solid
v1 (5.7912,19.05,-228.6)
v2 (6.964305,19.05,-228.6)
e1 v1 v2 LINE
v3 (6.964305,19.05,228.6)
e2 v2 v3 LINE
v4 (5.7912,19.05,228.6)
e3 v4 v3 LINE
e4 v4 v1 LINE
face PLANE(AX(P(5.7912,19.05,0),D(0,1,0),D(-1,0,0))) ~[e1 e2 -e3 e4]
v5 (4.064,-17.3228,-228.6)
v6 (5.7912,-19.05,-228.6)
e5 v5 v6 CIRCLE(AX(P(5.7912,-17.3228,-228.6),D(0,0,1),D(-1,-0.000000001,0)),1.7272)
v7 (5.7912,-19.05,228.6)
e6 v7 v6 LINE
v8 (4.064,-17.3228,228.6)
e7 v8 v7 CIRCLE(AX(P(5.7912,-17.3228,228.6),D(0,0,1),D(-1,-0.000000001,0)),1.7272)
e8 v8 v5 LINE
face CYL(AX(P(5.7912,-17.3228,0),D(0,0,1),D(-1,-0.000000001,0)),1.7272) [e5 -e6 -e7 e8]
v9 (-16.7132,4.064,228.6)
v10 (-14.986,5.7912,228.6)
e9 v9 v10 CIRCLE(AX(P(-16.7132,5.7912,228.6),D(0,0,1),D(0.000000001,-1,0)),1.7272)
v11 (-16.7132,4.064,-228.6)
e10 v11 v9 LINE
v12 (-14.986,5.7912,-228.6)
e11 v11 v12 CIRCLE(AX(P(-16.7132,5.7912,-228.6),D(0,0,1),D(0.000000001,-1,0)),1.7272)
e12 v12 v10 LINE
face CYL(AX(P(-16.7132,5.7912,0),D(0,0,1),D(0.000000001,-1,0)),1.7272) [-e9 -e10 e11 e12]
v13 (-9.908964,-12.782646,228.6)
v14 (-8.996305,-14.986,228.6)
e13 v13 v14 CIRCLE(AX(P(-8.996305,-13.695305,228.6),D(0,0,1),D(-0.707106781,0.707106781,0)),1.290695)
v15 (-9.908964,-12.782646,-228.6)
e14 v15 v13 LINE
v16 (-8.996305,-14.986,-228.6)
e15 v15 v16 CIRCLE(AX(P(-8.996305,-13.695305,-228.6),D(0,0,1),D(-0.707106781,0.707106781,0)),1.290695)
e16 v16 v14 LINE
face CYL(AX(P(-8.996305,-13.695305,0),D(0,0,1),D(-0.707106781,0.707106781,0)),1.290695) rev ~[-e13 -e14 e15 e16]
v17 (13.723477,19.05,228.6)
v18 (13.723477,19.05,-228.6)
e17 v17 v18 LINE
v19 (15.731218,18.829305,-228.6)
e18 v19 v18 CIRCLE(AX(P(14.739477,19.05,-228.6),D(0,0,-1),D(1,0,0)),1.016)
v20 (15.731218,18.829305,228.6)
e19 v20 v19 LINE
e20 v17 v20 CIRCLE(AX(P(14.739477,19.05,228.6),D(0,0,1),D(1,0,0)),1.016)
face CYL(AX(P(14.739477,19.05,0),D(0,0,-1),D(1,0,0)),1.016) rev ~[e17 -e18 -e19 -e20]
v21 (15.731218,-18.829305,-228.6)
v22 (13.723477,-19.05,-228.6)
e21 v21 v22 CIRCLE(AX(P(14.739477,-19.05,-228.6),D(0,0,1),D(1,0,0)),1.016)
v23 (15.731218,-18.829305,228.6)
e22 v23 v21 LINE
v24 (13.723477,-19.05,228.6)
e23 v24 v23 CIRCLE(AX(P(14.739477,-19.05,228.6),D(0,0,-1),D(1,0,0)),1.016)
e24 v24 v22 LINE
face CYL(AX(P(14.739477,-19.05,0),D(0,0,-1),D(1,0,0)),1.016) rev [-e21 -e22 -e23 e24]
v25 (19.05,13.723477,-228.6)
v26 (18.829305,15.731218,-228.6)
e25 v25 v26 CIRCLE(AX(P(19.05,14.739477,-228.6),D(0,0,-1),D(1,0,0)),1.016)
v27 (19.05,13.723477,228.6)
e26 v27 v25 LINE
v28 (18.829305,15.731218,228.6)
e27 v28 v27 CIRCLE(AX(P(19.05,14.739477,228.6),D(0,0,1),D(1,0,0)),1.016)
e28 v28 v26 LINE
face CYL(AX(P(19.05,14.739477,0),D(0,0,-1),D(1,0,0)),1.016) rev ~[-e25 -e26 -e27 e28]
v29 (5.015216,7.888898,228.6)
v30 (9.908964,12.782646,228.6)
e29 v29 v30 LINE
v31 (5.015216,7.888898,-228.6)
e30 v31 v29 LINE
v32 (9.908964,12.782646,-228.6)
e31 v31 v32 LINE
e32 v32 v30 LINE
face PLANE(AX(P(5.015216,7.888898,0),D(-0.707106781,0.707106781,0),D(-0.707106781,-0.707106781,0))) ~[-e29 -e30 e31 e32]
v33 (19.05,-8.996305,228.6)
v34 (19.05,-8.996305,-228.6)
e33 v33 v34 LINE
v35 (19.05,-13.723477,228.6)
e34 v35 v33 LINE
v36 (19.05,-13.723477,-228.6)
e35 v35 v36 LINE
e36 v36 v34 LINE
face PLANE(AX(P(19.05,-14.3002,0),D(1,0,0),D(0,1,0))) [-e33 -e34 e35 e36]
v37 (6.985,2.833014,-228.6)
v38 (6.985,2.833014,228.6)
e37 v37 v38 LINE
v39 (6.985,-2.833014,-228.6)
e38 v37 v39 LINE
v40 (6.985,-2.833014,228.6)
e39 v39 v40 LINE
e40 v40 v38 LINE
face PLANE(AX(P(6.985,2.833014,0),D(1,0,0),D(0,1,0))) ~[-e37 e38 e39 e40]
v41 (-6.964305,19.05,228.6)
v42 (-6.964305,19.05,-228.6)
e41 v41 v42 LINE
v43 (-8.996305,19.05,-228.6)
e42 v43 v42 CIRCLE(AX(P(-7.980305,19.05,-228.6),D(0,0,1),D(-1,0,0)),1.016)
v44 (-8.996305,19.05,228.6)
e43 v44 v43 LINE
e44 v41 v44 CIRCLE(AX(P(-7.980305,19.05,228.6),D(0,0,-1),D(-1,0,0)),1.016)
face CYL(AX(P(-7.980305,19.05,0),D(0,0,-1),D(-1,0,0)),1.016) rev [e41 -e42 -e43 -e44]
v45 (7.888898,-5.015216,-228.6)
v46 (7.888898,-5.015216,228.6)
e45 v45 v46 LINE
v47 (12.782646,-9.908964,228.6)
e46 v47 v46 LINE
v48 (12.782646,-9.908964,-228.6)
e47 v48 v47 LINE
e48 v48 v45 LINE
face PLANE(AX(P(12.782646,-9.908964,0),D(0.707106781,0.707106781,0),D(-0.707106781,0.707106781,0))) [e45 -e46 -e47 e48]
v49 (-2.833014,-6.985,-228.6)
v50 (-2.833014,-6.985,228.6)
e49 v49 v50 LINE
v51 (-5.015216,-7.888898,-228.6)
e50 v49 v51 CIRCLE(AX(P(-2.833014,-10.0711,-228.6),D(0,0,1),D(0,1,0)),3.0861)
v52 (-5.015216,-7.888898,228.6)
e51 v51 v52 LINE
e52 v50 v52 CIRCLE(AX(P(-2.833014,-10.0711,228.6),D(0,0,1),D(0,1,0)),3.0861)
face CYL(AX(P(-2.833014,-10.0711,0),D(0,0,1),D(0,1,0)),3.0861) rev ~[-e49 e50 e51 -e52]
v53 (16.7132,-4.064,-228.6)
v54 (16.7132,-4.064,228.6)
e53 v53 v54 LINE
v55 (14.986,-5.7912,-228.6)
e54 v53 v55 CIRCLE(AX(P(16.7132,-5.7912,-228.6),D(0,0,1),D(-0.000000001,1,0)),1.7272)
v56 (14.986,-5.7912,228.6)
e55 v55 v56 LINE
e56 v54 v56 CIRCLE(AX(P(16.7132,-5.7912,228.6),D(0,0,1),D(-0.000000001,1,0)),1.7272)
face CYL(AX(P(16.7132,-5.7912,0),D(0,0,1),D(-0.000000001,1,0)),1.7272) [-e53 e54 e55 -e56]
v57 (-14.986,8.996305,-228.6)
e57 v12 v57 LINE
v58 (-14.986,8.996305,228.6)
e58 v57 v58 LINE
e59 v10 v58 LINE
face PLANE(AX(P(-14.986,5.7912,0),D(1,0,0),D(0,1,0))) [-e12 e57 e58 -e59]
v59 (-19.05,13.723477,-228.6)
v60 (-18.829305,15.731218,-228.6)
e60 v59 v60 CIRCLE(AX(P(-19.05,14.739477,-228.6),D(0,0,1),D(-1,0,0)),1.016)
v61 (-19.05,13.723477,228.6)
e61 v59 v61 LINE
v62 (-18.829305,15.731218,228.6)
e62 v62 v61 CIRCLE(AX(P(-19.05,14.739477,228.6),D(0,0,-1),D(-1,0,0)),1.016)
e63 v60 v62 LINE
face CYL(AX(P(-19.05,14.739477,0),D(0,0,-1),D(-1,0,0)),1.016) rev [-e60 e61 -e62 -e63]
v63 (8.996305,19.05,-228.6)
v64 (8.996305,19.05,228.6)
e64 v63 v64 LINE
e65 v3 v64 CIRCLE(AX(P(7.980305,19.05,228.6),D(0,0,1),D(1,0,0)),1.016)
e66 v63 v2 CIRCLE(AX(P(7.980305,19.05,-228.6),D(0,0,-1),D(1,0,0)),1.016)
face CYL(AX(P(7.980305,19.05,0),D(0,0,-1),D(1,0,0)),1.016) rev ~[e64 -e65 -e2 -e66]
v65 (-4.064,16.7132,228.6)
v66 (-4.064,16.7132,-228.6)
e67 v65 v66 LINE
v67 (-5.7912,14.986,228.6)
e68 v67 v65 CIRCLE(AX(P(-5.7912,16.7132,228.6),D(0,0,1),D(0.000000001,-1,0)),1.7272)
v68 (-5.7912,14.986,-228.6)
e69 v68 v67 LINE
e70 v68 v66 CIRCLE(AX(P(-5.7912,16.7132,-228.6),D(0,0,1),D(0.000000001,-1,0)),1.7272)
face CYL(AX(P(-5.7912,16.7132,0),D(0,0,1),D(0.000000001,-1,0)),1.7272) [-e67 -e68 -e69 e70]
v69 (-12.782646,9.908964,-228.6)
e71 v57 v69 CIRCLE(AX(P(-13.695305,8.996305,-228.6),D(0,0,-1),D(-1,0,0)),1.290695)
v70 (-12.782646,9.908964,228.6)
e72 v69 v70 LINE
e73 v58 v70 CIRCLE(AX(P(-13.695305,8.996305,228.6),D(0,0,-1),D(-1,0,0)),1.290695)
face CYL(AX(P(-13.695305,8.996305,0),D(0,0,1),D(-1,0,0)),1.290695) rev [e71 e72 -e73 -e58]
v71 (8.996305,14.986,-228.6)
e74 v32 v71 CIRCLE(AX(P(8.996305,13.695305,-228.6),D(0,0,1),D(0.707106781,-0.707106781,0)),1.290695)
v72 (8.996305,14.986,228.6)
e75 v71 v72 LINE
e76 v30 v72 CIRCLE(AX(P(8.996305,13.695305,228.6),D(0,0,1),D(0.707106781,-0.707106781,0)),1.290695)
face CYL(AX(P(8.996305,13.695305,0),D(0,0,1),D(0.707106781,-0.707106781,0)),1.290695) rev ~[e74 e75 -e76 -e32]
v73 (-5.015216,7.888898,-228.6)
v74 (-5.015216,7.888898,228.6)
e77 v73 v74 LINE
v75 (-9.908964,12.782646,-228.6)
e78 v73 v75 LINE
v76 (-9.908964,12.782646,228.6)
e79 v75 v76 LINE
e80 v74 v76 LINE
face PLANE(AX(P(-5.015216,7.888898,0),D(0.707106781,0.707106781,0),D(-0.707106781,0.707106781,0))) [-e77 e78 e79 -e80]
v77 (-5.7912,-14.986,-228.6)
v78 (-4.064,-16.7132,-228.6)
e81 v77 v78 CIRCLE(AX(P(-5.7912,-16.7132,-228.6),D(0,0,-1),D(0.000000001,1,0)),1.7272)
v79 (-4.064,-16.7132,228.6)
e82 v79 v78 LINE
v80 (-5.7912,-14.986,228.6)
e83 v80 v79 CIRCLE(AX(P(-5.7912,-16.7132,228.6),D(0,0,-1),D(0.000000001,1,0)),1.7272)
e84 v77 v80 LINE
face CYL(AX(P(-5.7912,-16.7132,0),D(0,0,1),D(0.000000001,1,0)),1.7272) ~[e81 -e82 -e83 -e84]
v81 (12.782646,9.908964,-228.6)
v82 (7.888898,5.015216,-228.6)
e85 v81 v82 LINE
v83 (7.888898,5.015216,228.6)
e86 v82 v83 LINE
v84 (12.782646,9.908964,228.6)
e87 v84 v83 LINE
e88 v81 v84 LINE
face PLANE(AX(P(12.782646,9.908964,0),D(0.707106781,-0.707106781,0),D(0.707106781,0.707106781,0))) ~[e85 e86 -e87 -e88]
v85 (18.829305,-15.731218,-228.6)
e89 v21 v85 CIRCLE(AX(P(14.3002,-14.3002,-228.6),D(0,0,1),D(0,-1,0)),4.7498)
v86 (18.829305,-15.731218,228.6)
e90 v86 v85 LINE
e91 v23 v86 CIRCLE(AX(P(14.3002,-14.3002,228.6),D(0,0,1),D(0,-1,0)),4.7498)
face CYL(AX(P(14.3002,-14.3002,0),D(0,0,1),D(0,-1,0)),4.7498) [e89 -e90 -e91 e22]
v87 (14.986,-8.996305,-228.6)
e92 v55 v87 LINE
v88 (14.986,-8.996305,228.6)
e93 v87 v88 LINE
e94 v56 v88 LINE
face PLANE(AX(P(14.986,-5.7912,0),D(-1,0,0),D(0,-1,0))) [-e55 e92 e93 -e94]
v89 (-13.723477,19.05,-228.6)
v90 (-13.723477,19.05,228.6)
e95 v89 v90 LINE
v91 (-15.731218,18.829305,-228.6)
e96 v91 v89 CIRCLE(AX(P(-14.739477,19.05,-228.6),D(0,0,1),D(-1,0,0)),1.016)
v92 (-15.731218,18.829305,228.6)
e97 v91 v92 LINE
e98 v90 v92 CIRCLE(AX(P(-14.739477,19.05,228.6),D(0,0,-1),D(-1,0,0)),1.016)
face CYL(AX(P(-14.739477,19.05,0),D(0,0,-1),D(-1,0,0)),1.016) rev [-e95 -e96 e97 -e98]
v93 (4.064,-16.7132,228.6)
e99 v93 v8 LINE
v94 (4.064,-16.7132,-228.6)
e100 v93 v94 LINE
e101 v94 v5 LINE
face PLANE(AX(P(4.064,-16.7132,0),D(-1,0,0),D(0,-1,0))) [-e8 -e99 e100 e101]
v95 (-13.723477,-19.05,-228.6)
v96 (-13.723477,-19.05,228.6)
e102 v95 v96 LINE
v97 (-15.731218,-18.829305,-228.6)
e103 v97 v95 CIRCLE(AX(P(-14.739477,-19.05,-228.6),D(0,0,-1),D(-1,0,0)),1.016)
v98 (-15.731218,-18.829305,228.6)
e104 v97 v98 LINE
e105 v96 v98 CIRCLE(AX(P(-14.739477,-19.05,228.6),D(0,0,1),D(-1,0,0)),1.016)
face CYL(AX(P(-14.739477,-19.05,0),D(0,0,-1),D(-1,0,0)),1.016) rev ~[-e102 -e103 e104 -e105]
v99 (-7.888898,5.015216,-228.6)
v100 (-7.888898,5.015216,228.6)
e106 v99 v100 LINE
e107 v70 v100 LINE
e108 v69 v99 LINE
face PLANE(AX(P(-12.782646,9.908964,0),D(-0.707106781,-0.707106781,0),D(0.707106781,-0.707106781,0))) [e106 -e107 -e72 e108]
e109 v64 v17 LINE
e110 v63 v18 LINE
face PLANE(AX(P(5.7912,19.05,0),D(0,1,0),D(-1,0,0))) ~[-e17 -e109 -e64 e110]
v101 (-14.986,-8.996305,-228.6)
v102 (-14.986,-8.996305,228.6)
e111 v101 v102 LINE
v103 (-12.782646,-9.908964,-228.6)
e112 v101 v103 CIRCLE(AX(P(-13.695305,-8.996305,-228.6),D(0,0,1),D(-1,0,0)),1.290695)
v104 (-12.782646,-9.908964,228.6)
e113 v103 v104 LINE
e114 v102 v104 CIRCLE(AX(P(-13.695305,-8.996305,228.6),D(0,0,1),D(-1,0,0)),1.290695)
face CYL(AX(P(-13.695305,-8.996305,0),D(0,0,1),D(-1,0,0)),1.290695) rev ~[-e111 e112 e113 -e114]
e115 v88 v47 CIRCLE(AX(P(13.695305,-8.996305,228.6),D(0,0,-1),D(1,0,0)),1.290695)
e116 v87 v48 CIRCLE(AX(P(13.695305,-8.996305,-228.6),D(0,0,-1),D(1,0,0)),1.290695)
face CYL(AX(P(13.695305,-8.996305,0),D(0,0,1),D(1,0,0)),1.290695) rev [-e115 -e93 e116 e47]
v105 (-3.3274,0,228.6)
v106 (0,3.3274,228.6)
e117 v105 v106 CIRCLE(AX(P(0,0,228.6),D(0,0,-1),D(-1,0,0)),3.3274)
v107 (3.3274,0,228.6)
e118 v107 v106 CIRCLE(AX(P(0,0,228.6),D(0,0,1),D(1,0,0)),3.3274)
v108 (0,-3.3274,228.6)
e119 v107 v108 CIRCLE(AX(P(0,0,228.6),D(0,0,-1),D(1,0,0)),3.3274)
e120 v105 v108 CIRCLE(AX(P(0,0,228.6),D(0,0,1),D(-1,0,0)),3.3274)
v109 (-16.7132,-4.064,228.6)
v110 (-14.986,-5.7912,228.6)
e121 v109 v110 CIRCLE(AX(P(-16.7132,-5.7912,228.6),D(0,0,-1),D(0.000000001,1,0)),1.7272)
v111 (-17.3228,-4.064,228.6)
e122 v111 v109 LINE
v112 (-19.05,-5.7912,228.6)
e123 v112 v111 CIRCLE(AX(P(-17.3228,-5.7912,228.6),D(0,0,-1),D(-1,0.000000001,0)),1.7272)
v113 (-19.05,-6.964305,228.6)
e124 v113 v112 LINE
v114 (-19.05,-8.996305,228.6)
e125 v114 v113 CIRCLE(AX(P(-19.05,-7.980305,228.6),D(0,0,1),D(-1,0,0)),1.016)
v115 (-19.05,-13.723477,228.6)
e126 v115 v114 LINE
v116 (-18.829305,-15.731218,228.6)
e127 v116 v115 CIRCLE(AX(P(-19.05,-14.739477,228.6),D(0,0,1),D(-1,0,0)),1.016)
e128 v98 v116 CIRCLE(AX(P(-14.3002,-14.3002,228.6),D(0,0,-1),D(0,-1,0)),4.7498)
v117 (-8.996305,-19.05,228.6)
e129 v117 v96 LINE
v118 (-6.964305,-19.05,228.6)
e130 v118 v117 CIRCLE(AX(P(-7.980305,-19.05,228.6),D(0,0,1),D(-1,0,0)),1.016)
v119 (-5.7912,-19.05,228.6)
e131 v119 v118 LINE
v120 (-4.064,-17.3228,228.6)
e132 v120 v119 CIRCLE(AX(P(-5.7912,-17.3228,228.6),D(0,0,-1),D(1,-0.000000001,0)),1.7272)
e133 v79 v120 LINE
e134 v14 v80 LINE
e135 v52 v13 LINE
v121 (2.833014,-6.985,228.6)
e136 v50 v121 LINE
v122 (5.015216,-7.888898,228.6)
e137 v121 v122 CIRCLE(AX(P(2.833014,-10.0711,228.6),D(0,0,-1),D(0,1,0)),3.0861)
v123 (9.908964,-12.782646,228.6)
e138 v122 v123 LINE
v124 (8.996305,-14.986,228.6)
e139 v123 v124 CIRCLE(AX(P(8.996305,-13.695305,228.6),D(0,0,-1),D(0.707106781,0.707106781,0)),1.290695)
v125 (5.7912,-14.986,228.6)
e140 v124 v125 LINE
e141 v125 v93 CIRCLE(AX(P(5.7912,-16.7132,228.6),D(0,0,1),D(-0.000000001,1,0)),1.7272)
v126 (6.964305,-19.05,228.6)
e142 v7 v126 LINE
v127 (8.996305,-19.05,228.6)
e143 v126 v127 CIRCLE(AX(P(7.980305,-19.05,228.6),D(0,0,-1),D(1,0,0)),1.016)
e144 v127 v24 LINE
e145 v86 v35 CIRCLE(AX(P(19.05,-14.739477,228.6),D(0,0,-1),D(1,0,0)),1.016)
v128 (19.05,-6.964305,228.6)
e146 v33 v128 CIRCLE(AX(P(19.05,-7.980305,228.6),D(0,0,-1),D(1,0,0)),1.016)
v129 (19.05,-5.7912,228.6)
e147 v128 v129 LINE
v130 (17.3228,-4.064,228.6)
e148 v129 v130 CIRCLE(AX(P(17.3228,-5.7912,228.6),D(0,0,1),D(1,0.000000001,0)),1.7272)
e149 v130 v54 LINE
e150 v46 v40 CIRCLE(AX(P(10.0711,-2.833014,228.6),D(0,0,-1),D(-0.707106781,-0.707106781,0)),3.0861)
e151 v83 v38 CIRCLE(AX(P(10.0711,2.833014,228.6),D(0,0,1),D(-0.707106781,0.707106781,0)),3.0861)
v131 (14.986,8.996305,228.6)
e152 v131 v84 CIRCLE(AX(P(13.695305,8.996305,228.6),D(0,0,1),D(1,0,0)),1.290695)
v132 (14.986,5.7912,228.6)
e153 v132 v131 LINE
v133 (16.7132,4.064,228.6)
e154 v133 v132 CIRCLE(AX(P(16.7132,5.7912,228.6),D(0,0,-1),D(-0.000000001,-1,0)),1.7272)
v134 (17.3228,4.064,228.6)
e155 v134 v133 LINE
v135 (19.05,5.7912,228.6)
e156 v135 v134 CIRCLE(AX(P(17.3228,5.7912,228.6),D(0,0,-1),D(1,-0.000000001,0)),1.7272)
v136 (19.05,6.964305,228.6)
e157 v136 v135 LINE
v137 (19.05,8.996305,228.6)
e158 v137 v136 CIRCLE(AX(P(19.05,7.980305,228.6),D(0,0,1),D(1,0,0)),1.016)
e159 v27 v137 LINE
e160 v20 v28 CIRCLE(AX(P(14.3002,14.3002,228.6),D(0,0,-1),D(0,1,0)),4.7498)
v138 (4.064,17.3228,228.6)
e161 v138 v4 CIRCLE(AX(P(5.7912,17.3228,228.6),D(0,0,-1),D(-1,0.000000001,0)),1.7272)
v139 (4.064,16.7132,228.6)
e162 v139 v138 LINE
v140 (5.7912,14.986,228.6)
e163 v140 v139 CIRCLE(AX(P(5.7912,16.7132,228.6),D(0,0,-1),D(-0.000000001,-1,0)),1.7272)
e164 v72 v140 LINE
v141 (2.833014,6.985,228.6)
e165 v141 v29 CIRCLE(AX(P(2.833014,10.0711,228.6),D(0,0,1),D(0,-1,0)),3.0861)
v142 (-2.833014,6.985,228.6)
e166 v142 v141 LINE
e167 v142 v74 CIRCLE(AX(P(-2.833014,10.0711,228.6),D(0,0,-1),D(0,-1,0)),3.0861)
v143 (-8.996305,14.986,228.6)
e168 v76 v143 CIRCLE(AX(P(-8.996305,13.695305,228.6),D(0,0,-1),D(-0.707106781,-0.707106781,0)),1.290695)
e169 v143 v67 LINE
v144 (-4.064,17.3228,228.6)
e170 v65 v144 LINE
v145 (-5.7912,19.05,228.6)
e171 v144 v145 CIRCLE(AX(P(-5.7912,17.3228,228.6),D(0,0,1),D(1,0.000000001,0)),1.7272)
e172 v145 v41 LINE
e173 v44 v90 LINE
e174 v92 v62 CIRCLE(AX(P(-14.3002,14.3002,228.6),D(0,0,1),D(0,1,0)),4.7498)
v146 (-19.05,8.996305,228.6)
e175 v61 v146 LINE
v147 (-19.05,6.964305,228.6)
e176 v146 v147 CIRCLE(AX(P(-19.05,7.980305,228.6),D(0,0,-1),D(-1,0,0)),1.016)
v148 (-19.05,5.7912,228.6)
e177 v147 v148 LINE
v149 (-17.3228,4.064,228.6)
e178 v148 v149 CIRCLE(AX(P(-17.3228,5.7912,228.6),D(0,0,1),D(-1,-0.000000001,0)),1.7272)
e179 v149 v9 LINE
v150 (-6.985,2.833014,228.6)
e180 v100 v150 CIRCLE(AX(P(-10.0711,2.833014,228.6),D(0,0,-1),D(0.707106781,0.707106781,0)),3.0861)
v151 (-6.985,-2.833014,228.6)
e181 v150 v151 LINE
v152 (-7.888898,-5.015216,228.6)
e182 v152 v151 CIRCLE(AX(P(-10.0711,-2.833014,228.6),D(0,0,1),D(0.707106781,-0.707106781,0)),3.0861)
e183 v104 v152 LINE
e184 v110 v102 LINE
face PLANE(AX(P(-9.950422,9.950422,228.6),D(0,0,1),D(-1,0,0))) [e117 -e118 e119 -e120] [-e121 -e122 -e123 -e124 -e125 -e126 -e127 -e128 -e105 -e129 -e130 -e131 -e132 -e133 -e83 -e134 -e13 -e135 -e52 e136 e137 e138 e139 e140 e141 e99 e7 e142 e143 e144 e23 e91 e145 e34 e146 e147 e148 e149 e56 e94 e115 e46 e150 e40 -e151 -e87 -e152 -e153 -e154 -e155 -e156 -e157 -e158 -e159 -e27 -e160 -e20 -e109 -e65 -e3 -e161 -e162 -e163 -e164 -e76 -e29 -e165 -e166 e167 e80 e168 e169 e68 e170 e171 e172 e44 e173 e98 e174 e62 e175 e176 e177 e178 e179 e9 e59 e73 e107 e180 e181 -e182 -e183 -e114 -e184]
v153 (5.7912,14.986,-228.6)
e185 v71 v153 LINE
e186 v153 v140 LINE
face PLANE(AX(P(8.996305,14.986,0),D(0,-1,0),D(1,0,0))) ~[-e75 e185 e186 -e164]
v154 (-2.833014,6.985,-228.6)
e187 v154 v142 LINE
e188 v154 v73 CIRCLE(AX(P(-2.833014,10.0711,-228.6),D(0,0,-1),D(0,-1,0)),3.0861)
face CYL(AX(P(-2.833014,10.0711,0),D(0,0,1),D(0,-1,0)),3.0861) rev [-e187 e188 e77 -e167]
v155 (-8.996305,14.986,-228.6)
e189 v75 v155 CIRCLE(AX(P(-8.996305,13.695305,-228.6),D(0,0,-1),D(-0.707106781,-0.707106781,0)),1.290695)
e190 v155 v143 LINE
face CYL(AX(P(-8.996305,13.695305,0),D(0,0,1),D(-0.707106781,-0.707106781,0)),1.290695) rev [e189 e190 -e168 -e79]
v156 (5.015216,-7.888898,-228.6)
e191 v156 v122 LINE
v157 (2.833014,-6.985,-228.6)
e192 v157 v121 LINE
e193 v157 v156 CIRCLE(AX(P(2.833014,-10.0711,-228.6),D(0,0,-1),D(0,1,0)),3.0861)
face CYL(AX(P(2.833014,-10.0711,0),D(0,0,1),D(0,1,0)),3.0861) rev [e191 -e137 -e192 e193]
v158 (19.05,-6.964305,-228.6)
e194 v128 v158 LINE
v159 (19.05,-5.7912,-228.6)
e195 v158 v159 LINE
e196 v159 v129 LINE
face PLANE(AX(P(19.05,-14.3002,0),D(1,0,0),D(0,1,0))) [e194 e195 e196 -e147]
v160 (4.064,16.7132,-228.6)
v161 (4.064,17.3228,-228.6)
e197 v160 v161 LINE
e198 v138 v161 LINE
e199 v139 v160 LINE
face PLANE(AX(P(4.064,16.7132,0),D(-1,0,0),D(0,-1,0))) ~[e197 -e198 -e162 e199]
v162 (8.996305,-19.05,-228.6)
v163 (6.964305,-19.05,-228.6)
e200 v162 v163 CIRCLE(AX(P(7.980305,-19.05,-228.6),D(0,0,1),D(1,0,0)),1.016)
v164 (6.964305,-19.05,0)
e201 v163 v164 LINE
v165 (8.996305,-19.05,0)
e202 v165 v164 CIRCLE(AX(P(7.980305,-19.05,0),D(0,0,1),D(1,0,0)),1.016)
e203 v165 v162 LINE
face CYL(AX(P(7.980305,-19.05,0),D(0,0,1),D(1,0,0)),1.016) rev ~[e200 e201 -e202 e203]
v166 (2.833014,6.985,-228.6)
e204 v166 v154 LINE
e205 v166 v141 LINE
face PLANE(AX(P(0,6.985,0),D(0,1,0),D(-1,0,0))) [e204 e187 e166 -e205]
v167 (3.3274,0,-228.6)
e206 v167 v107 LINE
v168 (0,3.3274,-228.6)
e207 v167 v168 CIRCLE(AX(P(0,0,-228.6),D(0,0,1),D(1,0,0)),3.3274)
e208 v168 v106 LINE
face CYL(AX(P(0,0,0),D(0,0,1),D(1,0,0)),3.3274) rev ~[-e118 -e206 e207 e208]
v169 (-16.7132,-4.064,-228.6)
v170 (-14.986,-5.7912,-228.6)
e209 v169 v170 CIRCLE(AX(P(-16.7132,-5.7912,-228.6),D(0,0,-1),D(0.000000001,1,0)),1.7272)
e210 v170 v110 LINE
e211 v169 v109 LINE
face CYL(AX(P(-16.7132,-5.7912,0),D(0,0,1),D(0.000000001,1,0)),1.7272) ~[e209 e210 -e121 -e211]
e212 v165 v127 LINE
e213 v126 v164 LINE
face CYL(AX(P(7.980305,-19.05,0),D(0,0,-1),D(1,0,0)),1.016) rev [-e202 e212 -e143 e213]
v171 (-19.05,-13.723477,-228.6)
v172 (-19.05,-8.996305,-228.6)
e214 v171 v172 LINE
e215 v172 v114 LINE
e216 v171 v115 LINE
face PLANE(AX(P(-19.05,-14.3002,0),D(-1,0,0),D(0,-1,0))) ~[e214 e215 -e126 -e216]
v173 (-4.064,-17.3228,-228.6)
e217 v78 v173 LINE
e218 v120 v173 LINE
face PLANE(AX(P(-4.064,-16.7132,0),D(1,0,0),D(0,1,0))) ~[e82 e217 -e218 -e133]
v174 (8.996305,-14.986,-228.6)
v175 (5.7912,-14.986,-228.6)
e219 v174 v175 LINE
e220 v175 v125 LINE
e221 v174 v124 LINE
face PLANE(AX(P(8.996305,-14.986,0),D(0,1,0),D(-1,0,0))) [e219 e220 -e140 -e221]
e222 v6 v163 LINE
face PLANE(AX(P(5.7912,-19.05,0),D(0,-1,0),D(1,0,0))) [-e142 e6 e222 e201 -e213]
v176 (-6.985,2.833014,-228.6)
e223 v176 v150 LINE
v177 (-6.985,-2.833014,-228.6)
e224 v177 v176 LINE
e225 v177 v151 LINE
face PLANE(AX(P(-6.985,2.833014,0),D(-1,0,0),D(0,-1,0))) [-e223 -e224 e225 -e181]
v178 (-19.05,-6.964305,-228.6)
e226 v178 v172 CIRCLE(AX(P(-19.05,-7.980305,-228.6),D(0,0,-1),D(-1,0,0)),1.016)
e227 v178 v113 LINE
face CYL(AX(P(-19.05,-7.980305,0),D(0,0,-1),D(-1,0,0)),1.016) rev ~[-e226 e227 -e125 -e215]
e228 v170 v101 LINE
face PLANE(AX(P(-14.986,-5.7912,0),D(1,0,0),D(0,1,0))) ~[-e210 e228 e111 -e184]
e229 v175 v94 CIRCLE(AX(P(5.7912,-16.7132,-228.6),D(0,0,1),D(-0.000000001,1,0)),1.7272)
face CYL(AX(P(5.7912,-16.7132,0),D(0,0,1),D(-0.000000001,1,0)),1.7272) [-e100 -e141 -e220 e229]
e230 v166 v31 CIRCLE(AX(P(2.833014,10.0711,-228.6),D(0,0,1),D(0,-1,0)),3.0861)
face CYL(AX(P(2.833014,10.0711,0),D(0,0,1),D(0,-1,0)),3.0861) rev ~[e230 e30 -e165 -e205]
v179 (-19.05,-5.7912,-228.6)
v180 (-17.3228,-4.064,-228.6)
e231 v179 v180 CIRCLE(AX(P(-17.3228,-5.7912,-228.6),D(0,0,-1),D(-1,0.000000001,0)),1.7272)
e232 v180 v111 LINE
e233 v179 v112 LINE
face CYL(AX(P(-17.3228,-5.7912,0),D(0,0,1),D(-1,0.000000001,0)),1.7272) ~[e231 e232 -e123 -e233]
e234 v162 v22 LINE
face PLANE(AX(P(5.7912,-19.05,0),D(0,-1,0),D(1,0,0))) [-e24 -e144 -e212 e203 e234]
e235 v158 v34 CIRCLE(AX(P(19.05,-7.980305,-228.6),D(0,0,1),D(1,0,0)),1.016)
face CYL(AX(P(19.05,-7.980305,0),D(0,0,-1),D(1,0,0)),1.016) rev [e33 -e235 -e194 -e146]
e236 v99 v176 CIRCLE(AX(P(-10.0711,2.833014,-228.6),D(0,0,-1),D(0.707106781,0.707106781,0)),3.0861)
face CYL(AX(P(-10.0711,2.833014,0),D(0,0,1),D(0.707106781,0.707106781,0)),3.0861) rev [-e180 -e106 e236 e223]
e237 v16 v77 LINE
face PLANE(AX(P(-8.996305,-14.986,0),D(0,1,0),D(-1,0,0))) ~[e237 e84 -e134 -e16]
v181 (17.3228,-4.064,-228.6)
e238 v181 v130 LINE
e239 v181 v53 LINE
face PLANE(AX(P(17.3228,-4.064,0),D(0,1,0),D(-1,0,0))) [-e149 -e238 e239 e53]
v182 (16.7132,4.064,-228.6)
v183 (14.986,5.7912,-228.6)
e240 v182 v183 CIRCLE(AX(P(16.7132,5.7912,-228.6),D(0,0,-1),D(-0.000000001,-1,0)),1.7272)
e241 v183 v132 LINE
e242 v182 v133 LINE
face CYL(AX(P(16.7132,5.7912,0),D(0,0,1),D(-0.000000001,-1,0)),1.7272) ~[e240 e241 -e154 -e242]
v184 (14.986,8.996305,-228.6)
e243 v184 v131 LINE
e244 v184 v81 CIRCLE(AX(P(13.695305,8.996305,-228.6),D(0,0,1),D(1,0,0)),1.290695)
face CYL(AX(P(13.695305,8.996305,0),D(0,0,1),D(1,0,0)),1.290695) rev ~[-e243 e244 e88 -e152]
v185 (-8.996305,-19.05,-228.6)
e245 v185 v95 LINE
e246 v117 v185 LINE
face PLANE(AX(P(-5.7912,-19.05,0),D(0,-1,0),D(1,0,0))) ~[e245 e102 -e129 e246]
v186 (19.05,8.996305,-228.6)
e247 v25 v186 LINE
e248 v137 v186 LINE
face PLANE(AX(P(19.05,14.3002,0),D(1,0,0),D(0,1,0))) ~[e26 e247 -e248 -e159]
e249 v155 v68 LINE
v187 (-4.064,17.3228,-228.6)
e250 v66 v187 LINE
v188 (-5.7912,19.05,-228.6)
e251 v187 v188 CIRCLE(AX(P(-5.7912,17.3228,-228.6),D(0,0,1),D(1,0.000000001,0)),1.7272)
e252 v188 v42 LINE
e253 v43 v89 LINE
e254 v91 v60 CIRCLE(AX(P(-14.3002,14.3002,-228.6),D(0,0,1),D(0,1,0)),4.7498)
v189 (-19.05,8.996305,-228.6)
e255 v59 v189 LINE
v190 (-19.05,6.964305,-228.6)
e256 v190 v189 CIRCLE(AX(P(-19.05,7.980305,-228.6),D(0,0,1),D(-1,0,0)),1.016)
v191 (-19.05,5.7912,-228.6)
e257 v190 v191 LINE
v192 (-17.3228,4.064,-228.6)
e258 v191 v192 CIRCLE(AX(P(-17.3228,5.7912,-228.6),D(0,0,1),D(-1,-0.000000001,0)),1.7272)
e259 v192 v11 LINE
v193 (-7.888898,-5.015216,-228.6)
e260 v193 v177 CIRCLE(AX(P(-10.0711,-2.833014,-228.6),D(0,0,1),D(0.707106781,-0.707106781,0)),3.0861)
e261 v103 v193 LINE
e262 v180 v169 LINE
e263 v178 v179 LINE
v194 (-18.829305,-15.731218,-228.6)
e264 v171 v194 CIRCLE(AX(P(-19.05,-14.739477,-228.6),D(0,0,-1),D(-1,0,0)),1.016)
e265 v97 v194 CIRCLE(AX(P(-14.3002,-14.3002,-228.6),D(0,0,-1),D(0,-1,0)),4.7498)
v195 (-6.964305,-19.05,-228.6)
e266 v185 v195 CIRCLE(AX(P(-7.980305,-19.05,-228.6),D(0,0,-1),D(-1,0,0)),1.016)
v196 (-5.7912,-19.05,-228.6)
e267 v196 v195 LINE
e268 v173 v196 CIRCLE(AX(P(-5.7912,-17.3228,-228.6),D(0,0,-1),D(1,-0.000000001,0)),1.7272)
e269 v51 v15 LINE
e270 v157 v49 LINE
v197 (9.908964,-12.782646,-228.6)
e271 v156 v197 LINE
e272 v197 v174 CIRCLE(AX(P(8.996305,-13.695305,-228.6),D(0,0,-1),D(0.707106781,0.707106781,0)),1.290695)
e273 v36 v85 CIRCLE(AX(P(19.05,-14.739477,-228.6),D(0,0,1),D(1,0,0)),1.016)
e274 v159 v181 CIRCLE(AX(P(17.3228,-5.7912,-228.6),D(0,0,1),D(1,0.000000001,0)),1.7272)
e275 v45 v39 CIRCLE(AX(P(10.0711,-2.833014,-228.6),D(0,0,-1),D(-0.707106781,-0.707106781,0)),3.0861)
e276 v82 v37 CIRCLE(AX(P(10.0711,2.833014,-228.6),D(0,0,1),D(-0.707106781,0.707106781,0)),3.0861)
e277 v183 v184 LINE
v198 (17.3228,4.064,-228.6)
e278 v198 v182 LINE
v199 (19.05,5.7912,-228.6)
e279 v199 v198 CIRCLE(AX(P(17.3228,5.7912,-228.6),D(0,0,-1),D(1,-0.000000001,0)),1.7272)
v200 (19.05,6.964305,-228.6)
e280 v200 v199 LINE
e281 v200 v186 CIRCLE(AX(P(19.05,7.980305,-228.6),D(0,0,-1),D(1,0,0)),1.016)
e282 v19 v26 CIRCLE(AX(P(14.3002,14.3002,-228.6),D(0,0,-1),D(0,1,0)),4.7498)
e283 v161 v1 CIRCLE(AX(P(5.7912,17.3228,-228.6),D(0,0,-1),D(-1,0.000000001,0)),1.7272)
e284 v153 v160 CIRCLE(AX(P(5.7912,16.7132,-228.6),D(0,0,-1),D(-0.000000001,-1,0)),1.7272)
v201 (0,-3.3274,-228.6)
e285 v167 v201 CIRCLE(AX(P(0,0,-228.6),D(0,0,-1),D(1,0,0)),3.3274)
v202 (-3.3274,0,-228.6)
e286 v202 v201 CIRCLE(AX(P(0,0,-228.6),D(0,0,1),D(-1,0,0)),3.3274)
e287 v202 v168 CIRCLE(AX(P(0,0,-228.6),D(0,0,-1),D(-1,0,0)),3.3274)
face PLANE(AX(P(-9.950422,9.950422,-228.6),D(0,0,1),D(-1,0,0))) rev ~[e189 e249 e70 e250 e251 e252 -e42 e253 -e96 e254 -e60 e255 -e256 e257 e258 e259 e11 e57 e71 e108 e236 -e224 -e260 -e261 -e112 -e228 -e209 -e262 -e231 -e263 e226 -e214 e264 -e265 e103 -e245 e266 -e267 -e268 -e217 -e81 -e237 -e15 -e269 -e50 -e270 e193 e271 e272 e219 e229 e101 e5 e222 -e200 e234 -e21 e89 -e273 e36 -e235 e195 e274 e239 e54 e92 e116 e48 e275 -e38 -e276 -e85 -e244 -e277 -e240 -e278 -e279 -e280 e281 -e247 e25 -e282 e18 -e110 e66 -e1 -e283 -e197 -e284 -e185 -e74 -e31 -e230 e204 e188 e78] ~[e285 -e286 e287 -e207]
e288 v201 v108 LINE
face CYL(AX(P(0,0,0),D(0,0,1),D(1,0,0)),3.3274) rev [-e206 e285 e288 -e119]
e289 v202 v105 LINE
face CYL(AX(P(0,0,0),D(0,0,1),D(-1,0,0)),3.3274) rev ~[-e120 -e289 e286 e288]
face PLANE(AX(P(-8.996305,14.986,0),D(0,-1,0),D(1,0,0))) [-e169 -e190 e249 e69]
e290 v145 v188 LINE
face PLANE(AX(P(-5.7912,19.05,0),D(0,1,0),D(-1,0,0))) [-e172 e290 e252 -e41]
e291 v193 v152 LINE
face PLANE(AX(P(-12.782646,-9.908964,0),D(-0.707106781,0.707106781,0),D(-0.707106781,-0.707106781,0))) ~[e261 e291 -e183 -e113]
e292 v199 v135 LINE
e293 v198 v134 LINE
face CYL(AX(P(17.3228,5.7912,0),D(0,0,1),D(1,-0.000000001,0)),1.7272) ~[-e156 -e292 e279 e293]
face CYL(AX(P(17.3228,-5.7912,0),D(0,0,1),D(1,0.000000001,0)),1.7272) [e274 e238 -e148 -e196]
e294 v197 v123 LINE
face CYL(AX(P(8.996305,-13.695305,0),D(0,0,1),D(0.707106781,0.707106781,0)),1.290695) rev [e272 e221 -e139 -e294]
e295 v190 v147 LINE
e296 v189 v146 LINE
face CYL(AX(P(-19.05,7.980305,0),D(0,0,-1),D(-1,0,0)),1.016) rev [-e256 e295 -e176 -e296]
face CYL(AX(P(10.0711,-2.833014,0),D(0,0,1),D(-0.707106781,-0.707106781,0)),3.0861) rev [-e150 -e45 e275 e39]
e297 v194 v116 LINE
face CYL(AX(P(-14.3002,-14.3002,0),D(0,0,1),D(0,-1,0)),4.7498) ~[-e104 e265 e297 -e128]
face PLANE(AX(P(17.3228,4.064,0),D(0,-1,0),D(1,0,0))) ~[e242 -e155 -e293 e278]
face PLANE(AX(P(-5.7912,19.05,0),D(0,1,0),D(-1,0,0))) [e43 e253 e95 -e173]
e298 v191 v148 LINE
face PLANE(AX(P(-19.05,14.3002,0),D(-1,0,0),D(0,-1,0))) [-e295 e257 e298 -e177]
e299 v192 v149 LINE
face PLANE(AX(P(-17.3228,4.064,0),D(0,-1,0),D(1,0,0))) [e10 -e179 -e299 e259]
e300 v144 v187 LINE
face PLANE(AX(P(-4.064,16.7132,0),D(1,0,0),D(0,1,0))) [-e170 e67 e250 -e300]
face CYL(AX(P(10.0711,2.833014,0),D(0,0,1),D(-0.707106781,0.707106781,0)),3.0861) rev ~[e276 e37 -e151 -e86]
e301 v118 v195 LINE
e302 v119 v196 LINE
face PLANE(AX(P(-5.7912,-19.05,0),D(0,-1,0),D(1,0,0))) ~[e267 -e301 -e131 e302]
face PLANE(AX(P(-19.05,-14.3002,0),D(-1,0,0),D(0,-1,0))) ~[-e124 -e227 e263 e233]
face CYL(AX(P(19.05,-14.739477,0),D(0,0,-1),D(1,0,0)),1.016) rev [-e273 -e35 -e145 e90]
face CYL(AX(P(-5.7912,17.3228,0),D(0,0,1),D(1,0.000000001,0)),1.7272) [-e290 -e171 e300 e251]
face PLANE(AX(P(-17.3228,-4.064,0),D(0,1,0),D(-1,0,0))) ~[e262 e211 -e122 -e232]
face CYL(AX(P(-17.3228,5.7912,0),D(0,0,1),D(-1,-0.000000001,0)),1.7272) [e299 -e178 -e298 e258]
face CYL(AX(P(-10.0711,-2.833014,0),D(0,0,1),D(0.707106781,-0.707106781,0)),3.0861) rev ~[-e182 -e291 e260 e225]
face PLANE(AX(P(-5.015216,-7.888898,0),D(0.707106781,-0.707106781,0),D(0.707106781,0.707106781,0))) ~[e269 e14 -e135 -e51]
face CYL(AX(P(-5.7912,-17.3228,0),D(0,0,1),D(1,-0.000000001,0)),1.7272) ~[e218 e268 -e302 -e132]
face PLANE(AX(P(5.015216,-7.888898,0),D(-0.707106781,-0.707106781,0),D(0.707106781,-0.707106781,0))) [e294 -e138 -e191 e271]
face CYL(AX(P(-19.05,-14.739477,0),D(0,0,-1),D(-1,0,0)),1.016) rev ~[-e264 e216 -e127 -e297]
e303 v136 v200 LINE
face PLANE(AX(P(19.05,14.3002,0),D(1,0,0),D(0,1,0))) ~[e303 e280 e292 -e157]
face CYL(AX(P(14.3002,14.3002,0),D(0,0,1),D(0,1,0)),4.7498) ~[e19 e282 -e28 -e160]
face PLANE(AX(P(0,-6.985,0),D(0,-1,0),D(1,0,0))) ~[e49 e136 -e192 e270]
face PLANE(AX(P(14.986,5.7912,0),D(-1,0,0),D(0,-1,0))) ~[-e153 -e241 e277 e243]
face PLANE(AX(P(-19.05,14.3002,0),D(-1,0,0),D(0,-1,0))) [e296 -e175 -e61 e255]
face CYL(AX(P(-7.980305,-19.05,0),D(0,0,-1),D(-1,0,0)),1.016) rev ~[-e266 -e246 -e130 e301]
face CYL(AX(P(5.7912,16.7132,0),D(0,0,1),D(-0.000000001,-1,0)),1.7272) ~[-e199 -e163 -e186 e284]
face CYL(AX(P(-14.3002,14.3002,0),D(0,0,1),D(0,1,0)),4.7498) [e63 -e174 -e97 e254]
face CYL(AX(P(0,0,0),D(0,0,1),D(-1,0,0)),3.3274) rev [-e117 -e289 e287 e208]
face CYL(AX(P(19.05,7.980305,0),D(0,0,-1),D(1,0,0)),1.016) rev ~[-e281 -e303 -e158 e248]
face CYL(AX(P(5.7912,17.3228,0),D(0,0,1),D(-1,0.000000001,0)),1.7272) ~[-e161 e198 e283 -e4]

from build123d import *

# Parameters (mm, degrees)
BOSS_EXTRUDE1_DEPTH     = 228.6
SKETCH5_R               = 1.016
CUT_EXTRUDE1_DEPTH      = 229.6
CUT_EXTRUDE1_DEPTH_BACK = 229.6


with BuildPart() as part:
    # Sketch4 → Boss-Extrude1 (new body, symmetric)
    with BuildSketch(Plane.XY):
        with BuildLine():
            Line((5.7912, -19.05), (14.3002, -19.05))
            ThreePointArc((14.3002, -19.05), (17.658815789, -17.658815789), (19.05, -14.3002))
            Line((19.05, -14.3002), (19.05, -5.7912))
            ThreePointArc((19.05, -5.7912), (18.544114832, -4.569885168), (17.3228, -4.064))
            Line((17.3228, -4.064), (16.7132, -4.064))
            ThreePointArc((16.7132, -4.064), (15.491885168, -4.569885168), (14.986, -5.7912))
            Line((14.986, -5.7912), (14.986, -8.996305235))
            ThreePointArc((14.986, -8.996305235), (14.189232738, -10.188751711), (12.782646215, -9.908964256))
            Line((12.782646215, -9.908964256), (7.888897763, -5.015215804))
            ThreePointArc((7.888897763, -5.015215804), (7.219915375, -4.014012907), (6.985, -2.833013566))
            Line((6.985, -2.833013566), (6.985, 0))
            Line((6.985, 0), (3.3274, 0))
            ThreePointArc((3.3274, 0), (2.352827104, -2.352827104), (0, -3.3274))
            Line((0, -3.3274), (0, -6.985))
            Line((0, -6.985), (2.833013566, -6.985))
            ThreePointArc((2.833013566, -6.985), (4.014012907, -7.219915375), (5.015215804, -7.888897763))
            Line((5.015215804, -7.888897763), (9.908964256, -12.782646215))
            ThreePointArc((9.908964256, -12.782646215), (10.188751711, -14.189232738), (8.996305235, -14.986))
            Line((8.996305235, -14.986), (5.7912, -14.986))
            ThreePointArc((5.7912, -14.986), (4.569885168, -15.491885168), (4.064, -16.7132))
            Line((4.064, -16.7132), (4.064, -17.3228))
            ThreePointArc((4.064, -17.3228), (4.569885168, -18.544114832), (5.7912, -19.05))
        make_face()
    extrude(amount=BOSS_EXTRUDE1_DEPTH, both=True)

    # Sketch5 → Cut-Extrude1 (cut, two sides)
    with BuildSketch(Plane.XY) as cut_extrude1_sk:
        with Locations((14.739477062, -19.05)):
            Circle(SKETCH5_R)
        with Locations((7.980305235, -19.05)):
            Circle(SKETCH5_R)
        with Locations((19.05, -14.739477062)):
            Circle(SKETCH5_R)
        with Locations((19.05, -7.980305235)):
            Circle(SKETCH5_R)
    extrude(amount=CUT_EXTRUDE1_DEPTH, mode=Mode.SUBTRACT)
    extrude(cut_extrude1_sk.sketch, amount=-CUT_EXTRUDE1_DEPTH_BACK, mode=Mode.SUBTRACT)

    # Mirror1: part across plane


with BuildPart() as part_1:
    add(part.part)
    add(part.part.mirror(Plane(origin=(0, 0, 0), x_dir=(0, 0, 1), z_dir=(1, 0, 0))))

    # Mirror2: part across plane


with BuildPart() as part_2:
    add(part_1.part)
    add(part_1.part.mirror(Plane.ZX))


solid = part_2.part
